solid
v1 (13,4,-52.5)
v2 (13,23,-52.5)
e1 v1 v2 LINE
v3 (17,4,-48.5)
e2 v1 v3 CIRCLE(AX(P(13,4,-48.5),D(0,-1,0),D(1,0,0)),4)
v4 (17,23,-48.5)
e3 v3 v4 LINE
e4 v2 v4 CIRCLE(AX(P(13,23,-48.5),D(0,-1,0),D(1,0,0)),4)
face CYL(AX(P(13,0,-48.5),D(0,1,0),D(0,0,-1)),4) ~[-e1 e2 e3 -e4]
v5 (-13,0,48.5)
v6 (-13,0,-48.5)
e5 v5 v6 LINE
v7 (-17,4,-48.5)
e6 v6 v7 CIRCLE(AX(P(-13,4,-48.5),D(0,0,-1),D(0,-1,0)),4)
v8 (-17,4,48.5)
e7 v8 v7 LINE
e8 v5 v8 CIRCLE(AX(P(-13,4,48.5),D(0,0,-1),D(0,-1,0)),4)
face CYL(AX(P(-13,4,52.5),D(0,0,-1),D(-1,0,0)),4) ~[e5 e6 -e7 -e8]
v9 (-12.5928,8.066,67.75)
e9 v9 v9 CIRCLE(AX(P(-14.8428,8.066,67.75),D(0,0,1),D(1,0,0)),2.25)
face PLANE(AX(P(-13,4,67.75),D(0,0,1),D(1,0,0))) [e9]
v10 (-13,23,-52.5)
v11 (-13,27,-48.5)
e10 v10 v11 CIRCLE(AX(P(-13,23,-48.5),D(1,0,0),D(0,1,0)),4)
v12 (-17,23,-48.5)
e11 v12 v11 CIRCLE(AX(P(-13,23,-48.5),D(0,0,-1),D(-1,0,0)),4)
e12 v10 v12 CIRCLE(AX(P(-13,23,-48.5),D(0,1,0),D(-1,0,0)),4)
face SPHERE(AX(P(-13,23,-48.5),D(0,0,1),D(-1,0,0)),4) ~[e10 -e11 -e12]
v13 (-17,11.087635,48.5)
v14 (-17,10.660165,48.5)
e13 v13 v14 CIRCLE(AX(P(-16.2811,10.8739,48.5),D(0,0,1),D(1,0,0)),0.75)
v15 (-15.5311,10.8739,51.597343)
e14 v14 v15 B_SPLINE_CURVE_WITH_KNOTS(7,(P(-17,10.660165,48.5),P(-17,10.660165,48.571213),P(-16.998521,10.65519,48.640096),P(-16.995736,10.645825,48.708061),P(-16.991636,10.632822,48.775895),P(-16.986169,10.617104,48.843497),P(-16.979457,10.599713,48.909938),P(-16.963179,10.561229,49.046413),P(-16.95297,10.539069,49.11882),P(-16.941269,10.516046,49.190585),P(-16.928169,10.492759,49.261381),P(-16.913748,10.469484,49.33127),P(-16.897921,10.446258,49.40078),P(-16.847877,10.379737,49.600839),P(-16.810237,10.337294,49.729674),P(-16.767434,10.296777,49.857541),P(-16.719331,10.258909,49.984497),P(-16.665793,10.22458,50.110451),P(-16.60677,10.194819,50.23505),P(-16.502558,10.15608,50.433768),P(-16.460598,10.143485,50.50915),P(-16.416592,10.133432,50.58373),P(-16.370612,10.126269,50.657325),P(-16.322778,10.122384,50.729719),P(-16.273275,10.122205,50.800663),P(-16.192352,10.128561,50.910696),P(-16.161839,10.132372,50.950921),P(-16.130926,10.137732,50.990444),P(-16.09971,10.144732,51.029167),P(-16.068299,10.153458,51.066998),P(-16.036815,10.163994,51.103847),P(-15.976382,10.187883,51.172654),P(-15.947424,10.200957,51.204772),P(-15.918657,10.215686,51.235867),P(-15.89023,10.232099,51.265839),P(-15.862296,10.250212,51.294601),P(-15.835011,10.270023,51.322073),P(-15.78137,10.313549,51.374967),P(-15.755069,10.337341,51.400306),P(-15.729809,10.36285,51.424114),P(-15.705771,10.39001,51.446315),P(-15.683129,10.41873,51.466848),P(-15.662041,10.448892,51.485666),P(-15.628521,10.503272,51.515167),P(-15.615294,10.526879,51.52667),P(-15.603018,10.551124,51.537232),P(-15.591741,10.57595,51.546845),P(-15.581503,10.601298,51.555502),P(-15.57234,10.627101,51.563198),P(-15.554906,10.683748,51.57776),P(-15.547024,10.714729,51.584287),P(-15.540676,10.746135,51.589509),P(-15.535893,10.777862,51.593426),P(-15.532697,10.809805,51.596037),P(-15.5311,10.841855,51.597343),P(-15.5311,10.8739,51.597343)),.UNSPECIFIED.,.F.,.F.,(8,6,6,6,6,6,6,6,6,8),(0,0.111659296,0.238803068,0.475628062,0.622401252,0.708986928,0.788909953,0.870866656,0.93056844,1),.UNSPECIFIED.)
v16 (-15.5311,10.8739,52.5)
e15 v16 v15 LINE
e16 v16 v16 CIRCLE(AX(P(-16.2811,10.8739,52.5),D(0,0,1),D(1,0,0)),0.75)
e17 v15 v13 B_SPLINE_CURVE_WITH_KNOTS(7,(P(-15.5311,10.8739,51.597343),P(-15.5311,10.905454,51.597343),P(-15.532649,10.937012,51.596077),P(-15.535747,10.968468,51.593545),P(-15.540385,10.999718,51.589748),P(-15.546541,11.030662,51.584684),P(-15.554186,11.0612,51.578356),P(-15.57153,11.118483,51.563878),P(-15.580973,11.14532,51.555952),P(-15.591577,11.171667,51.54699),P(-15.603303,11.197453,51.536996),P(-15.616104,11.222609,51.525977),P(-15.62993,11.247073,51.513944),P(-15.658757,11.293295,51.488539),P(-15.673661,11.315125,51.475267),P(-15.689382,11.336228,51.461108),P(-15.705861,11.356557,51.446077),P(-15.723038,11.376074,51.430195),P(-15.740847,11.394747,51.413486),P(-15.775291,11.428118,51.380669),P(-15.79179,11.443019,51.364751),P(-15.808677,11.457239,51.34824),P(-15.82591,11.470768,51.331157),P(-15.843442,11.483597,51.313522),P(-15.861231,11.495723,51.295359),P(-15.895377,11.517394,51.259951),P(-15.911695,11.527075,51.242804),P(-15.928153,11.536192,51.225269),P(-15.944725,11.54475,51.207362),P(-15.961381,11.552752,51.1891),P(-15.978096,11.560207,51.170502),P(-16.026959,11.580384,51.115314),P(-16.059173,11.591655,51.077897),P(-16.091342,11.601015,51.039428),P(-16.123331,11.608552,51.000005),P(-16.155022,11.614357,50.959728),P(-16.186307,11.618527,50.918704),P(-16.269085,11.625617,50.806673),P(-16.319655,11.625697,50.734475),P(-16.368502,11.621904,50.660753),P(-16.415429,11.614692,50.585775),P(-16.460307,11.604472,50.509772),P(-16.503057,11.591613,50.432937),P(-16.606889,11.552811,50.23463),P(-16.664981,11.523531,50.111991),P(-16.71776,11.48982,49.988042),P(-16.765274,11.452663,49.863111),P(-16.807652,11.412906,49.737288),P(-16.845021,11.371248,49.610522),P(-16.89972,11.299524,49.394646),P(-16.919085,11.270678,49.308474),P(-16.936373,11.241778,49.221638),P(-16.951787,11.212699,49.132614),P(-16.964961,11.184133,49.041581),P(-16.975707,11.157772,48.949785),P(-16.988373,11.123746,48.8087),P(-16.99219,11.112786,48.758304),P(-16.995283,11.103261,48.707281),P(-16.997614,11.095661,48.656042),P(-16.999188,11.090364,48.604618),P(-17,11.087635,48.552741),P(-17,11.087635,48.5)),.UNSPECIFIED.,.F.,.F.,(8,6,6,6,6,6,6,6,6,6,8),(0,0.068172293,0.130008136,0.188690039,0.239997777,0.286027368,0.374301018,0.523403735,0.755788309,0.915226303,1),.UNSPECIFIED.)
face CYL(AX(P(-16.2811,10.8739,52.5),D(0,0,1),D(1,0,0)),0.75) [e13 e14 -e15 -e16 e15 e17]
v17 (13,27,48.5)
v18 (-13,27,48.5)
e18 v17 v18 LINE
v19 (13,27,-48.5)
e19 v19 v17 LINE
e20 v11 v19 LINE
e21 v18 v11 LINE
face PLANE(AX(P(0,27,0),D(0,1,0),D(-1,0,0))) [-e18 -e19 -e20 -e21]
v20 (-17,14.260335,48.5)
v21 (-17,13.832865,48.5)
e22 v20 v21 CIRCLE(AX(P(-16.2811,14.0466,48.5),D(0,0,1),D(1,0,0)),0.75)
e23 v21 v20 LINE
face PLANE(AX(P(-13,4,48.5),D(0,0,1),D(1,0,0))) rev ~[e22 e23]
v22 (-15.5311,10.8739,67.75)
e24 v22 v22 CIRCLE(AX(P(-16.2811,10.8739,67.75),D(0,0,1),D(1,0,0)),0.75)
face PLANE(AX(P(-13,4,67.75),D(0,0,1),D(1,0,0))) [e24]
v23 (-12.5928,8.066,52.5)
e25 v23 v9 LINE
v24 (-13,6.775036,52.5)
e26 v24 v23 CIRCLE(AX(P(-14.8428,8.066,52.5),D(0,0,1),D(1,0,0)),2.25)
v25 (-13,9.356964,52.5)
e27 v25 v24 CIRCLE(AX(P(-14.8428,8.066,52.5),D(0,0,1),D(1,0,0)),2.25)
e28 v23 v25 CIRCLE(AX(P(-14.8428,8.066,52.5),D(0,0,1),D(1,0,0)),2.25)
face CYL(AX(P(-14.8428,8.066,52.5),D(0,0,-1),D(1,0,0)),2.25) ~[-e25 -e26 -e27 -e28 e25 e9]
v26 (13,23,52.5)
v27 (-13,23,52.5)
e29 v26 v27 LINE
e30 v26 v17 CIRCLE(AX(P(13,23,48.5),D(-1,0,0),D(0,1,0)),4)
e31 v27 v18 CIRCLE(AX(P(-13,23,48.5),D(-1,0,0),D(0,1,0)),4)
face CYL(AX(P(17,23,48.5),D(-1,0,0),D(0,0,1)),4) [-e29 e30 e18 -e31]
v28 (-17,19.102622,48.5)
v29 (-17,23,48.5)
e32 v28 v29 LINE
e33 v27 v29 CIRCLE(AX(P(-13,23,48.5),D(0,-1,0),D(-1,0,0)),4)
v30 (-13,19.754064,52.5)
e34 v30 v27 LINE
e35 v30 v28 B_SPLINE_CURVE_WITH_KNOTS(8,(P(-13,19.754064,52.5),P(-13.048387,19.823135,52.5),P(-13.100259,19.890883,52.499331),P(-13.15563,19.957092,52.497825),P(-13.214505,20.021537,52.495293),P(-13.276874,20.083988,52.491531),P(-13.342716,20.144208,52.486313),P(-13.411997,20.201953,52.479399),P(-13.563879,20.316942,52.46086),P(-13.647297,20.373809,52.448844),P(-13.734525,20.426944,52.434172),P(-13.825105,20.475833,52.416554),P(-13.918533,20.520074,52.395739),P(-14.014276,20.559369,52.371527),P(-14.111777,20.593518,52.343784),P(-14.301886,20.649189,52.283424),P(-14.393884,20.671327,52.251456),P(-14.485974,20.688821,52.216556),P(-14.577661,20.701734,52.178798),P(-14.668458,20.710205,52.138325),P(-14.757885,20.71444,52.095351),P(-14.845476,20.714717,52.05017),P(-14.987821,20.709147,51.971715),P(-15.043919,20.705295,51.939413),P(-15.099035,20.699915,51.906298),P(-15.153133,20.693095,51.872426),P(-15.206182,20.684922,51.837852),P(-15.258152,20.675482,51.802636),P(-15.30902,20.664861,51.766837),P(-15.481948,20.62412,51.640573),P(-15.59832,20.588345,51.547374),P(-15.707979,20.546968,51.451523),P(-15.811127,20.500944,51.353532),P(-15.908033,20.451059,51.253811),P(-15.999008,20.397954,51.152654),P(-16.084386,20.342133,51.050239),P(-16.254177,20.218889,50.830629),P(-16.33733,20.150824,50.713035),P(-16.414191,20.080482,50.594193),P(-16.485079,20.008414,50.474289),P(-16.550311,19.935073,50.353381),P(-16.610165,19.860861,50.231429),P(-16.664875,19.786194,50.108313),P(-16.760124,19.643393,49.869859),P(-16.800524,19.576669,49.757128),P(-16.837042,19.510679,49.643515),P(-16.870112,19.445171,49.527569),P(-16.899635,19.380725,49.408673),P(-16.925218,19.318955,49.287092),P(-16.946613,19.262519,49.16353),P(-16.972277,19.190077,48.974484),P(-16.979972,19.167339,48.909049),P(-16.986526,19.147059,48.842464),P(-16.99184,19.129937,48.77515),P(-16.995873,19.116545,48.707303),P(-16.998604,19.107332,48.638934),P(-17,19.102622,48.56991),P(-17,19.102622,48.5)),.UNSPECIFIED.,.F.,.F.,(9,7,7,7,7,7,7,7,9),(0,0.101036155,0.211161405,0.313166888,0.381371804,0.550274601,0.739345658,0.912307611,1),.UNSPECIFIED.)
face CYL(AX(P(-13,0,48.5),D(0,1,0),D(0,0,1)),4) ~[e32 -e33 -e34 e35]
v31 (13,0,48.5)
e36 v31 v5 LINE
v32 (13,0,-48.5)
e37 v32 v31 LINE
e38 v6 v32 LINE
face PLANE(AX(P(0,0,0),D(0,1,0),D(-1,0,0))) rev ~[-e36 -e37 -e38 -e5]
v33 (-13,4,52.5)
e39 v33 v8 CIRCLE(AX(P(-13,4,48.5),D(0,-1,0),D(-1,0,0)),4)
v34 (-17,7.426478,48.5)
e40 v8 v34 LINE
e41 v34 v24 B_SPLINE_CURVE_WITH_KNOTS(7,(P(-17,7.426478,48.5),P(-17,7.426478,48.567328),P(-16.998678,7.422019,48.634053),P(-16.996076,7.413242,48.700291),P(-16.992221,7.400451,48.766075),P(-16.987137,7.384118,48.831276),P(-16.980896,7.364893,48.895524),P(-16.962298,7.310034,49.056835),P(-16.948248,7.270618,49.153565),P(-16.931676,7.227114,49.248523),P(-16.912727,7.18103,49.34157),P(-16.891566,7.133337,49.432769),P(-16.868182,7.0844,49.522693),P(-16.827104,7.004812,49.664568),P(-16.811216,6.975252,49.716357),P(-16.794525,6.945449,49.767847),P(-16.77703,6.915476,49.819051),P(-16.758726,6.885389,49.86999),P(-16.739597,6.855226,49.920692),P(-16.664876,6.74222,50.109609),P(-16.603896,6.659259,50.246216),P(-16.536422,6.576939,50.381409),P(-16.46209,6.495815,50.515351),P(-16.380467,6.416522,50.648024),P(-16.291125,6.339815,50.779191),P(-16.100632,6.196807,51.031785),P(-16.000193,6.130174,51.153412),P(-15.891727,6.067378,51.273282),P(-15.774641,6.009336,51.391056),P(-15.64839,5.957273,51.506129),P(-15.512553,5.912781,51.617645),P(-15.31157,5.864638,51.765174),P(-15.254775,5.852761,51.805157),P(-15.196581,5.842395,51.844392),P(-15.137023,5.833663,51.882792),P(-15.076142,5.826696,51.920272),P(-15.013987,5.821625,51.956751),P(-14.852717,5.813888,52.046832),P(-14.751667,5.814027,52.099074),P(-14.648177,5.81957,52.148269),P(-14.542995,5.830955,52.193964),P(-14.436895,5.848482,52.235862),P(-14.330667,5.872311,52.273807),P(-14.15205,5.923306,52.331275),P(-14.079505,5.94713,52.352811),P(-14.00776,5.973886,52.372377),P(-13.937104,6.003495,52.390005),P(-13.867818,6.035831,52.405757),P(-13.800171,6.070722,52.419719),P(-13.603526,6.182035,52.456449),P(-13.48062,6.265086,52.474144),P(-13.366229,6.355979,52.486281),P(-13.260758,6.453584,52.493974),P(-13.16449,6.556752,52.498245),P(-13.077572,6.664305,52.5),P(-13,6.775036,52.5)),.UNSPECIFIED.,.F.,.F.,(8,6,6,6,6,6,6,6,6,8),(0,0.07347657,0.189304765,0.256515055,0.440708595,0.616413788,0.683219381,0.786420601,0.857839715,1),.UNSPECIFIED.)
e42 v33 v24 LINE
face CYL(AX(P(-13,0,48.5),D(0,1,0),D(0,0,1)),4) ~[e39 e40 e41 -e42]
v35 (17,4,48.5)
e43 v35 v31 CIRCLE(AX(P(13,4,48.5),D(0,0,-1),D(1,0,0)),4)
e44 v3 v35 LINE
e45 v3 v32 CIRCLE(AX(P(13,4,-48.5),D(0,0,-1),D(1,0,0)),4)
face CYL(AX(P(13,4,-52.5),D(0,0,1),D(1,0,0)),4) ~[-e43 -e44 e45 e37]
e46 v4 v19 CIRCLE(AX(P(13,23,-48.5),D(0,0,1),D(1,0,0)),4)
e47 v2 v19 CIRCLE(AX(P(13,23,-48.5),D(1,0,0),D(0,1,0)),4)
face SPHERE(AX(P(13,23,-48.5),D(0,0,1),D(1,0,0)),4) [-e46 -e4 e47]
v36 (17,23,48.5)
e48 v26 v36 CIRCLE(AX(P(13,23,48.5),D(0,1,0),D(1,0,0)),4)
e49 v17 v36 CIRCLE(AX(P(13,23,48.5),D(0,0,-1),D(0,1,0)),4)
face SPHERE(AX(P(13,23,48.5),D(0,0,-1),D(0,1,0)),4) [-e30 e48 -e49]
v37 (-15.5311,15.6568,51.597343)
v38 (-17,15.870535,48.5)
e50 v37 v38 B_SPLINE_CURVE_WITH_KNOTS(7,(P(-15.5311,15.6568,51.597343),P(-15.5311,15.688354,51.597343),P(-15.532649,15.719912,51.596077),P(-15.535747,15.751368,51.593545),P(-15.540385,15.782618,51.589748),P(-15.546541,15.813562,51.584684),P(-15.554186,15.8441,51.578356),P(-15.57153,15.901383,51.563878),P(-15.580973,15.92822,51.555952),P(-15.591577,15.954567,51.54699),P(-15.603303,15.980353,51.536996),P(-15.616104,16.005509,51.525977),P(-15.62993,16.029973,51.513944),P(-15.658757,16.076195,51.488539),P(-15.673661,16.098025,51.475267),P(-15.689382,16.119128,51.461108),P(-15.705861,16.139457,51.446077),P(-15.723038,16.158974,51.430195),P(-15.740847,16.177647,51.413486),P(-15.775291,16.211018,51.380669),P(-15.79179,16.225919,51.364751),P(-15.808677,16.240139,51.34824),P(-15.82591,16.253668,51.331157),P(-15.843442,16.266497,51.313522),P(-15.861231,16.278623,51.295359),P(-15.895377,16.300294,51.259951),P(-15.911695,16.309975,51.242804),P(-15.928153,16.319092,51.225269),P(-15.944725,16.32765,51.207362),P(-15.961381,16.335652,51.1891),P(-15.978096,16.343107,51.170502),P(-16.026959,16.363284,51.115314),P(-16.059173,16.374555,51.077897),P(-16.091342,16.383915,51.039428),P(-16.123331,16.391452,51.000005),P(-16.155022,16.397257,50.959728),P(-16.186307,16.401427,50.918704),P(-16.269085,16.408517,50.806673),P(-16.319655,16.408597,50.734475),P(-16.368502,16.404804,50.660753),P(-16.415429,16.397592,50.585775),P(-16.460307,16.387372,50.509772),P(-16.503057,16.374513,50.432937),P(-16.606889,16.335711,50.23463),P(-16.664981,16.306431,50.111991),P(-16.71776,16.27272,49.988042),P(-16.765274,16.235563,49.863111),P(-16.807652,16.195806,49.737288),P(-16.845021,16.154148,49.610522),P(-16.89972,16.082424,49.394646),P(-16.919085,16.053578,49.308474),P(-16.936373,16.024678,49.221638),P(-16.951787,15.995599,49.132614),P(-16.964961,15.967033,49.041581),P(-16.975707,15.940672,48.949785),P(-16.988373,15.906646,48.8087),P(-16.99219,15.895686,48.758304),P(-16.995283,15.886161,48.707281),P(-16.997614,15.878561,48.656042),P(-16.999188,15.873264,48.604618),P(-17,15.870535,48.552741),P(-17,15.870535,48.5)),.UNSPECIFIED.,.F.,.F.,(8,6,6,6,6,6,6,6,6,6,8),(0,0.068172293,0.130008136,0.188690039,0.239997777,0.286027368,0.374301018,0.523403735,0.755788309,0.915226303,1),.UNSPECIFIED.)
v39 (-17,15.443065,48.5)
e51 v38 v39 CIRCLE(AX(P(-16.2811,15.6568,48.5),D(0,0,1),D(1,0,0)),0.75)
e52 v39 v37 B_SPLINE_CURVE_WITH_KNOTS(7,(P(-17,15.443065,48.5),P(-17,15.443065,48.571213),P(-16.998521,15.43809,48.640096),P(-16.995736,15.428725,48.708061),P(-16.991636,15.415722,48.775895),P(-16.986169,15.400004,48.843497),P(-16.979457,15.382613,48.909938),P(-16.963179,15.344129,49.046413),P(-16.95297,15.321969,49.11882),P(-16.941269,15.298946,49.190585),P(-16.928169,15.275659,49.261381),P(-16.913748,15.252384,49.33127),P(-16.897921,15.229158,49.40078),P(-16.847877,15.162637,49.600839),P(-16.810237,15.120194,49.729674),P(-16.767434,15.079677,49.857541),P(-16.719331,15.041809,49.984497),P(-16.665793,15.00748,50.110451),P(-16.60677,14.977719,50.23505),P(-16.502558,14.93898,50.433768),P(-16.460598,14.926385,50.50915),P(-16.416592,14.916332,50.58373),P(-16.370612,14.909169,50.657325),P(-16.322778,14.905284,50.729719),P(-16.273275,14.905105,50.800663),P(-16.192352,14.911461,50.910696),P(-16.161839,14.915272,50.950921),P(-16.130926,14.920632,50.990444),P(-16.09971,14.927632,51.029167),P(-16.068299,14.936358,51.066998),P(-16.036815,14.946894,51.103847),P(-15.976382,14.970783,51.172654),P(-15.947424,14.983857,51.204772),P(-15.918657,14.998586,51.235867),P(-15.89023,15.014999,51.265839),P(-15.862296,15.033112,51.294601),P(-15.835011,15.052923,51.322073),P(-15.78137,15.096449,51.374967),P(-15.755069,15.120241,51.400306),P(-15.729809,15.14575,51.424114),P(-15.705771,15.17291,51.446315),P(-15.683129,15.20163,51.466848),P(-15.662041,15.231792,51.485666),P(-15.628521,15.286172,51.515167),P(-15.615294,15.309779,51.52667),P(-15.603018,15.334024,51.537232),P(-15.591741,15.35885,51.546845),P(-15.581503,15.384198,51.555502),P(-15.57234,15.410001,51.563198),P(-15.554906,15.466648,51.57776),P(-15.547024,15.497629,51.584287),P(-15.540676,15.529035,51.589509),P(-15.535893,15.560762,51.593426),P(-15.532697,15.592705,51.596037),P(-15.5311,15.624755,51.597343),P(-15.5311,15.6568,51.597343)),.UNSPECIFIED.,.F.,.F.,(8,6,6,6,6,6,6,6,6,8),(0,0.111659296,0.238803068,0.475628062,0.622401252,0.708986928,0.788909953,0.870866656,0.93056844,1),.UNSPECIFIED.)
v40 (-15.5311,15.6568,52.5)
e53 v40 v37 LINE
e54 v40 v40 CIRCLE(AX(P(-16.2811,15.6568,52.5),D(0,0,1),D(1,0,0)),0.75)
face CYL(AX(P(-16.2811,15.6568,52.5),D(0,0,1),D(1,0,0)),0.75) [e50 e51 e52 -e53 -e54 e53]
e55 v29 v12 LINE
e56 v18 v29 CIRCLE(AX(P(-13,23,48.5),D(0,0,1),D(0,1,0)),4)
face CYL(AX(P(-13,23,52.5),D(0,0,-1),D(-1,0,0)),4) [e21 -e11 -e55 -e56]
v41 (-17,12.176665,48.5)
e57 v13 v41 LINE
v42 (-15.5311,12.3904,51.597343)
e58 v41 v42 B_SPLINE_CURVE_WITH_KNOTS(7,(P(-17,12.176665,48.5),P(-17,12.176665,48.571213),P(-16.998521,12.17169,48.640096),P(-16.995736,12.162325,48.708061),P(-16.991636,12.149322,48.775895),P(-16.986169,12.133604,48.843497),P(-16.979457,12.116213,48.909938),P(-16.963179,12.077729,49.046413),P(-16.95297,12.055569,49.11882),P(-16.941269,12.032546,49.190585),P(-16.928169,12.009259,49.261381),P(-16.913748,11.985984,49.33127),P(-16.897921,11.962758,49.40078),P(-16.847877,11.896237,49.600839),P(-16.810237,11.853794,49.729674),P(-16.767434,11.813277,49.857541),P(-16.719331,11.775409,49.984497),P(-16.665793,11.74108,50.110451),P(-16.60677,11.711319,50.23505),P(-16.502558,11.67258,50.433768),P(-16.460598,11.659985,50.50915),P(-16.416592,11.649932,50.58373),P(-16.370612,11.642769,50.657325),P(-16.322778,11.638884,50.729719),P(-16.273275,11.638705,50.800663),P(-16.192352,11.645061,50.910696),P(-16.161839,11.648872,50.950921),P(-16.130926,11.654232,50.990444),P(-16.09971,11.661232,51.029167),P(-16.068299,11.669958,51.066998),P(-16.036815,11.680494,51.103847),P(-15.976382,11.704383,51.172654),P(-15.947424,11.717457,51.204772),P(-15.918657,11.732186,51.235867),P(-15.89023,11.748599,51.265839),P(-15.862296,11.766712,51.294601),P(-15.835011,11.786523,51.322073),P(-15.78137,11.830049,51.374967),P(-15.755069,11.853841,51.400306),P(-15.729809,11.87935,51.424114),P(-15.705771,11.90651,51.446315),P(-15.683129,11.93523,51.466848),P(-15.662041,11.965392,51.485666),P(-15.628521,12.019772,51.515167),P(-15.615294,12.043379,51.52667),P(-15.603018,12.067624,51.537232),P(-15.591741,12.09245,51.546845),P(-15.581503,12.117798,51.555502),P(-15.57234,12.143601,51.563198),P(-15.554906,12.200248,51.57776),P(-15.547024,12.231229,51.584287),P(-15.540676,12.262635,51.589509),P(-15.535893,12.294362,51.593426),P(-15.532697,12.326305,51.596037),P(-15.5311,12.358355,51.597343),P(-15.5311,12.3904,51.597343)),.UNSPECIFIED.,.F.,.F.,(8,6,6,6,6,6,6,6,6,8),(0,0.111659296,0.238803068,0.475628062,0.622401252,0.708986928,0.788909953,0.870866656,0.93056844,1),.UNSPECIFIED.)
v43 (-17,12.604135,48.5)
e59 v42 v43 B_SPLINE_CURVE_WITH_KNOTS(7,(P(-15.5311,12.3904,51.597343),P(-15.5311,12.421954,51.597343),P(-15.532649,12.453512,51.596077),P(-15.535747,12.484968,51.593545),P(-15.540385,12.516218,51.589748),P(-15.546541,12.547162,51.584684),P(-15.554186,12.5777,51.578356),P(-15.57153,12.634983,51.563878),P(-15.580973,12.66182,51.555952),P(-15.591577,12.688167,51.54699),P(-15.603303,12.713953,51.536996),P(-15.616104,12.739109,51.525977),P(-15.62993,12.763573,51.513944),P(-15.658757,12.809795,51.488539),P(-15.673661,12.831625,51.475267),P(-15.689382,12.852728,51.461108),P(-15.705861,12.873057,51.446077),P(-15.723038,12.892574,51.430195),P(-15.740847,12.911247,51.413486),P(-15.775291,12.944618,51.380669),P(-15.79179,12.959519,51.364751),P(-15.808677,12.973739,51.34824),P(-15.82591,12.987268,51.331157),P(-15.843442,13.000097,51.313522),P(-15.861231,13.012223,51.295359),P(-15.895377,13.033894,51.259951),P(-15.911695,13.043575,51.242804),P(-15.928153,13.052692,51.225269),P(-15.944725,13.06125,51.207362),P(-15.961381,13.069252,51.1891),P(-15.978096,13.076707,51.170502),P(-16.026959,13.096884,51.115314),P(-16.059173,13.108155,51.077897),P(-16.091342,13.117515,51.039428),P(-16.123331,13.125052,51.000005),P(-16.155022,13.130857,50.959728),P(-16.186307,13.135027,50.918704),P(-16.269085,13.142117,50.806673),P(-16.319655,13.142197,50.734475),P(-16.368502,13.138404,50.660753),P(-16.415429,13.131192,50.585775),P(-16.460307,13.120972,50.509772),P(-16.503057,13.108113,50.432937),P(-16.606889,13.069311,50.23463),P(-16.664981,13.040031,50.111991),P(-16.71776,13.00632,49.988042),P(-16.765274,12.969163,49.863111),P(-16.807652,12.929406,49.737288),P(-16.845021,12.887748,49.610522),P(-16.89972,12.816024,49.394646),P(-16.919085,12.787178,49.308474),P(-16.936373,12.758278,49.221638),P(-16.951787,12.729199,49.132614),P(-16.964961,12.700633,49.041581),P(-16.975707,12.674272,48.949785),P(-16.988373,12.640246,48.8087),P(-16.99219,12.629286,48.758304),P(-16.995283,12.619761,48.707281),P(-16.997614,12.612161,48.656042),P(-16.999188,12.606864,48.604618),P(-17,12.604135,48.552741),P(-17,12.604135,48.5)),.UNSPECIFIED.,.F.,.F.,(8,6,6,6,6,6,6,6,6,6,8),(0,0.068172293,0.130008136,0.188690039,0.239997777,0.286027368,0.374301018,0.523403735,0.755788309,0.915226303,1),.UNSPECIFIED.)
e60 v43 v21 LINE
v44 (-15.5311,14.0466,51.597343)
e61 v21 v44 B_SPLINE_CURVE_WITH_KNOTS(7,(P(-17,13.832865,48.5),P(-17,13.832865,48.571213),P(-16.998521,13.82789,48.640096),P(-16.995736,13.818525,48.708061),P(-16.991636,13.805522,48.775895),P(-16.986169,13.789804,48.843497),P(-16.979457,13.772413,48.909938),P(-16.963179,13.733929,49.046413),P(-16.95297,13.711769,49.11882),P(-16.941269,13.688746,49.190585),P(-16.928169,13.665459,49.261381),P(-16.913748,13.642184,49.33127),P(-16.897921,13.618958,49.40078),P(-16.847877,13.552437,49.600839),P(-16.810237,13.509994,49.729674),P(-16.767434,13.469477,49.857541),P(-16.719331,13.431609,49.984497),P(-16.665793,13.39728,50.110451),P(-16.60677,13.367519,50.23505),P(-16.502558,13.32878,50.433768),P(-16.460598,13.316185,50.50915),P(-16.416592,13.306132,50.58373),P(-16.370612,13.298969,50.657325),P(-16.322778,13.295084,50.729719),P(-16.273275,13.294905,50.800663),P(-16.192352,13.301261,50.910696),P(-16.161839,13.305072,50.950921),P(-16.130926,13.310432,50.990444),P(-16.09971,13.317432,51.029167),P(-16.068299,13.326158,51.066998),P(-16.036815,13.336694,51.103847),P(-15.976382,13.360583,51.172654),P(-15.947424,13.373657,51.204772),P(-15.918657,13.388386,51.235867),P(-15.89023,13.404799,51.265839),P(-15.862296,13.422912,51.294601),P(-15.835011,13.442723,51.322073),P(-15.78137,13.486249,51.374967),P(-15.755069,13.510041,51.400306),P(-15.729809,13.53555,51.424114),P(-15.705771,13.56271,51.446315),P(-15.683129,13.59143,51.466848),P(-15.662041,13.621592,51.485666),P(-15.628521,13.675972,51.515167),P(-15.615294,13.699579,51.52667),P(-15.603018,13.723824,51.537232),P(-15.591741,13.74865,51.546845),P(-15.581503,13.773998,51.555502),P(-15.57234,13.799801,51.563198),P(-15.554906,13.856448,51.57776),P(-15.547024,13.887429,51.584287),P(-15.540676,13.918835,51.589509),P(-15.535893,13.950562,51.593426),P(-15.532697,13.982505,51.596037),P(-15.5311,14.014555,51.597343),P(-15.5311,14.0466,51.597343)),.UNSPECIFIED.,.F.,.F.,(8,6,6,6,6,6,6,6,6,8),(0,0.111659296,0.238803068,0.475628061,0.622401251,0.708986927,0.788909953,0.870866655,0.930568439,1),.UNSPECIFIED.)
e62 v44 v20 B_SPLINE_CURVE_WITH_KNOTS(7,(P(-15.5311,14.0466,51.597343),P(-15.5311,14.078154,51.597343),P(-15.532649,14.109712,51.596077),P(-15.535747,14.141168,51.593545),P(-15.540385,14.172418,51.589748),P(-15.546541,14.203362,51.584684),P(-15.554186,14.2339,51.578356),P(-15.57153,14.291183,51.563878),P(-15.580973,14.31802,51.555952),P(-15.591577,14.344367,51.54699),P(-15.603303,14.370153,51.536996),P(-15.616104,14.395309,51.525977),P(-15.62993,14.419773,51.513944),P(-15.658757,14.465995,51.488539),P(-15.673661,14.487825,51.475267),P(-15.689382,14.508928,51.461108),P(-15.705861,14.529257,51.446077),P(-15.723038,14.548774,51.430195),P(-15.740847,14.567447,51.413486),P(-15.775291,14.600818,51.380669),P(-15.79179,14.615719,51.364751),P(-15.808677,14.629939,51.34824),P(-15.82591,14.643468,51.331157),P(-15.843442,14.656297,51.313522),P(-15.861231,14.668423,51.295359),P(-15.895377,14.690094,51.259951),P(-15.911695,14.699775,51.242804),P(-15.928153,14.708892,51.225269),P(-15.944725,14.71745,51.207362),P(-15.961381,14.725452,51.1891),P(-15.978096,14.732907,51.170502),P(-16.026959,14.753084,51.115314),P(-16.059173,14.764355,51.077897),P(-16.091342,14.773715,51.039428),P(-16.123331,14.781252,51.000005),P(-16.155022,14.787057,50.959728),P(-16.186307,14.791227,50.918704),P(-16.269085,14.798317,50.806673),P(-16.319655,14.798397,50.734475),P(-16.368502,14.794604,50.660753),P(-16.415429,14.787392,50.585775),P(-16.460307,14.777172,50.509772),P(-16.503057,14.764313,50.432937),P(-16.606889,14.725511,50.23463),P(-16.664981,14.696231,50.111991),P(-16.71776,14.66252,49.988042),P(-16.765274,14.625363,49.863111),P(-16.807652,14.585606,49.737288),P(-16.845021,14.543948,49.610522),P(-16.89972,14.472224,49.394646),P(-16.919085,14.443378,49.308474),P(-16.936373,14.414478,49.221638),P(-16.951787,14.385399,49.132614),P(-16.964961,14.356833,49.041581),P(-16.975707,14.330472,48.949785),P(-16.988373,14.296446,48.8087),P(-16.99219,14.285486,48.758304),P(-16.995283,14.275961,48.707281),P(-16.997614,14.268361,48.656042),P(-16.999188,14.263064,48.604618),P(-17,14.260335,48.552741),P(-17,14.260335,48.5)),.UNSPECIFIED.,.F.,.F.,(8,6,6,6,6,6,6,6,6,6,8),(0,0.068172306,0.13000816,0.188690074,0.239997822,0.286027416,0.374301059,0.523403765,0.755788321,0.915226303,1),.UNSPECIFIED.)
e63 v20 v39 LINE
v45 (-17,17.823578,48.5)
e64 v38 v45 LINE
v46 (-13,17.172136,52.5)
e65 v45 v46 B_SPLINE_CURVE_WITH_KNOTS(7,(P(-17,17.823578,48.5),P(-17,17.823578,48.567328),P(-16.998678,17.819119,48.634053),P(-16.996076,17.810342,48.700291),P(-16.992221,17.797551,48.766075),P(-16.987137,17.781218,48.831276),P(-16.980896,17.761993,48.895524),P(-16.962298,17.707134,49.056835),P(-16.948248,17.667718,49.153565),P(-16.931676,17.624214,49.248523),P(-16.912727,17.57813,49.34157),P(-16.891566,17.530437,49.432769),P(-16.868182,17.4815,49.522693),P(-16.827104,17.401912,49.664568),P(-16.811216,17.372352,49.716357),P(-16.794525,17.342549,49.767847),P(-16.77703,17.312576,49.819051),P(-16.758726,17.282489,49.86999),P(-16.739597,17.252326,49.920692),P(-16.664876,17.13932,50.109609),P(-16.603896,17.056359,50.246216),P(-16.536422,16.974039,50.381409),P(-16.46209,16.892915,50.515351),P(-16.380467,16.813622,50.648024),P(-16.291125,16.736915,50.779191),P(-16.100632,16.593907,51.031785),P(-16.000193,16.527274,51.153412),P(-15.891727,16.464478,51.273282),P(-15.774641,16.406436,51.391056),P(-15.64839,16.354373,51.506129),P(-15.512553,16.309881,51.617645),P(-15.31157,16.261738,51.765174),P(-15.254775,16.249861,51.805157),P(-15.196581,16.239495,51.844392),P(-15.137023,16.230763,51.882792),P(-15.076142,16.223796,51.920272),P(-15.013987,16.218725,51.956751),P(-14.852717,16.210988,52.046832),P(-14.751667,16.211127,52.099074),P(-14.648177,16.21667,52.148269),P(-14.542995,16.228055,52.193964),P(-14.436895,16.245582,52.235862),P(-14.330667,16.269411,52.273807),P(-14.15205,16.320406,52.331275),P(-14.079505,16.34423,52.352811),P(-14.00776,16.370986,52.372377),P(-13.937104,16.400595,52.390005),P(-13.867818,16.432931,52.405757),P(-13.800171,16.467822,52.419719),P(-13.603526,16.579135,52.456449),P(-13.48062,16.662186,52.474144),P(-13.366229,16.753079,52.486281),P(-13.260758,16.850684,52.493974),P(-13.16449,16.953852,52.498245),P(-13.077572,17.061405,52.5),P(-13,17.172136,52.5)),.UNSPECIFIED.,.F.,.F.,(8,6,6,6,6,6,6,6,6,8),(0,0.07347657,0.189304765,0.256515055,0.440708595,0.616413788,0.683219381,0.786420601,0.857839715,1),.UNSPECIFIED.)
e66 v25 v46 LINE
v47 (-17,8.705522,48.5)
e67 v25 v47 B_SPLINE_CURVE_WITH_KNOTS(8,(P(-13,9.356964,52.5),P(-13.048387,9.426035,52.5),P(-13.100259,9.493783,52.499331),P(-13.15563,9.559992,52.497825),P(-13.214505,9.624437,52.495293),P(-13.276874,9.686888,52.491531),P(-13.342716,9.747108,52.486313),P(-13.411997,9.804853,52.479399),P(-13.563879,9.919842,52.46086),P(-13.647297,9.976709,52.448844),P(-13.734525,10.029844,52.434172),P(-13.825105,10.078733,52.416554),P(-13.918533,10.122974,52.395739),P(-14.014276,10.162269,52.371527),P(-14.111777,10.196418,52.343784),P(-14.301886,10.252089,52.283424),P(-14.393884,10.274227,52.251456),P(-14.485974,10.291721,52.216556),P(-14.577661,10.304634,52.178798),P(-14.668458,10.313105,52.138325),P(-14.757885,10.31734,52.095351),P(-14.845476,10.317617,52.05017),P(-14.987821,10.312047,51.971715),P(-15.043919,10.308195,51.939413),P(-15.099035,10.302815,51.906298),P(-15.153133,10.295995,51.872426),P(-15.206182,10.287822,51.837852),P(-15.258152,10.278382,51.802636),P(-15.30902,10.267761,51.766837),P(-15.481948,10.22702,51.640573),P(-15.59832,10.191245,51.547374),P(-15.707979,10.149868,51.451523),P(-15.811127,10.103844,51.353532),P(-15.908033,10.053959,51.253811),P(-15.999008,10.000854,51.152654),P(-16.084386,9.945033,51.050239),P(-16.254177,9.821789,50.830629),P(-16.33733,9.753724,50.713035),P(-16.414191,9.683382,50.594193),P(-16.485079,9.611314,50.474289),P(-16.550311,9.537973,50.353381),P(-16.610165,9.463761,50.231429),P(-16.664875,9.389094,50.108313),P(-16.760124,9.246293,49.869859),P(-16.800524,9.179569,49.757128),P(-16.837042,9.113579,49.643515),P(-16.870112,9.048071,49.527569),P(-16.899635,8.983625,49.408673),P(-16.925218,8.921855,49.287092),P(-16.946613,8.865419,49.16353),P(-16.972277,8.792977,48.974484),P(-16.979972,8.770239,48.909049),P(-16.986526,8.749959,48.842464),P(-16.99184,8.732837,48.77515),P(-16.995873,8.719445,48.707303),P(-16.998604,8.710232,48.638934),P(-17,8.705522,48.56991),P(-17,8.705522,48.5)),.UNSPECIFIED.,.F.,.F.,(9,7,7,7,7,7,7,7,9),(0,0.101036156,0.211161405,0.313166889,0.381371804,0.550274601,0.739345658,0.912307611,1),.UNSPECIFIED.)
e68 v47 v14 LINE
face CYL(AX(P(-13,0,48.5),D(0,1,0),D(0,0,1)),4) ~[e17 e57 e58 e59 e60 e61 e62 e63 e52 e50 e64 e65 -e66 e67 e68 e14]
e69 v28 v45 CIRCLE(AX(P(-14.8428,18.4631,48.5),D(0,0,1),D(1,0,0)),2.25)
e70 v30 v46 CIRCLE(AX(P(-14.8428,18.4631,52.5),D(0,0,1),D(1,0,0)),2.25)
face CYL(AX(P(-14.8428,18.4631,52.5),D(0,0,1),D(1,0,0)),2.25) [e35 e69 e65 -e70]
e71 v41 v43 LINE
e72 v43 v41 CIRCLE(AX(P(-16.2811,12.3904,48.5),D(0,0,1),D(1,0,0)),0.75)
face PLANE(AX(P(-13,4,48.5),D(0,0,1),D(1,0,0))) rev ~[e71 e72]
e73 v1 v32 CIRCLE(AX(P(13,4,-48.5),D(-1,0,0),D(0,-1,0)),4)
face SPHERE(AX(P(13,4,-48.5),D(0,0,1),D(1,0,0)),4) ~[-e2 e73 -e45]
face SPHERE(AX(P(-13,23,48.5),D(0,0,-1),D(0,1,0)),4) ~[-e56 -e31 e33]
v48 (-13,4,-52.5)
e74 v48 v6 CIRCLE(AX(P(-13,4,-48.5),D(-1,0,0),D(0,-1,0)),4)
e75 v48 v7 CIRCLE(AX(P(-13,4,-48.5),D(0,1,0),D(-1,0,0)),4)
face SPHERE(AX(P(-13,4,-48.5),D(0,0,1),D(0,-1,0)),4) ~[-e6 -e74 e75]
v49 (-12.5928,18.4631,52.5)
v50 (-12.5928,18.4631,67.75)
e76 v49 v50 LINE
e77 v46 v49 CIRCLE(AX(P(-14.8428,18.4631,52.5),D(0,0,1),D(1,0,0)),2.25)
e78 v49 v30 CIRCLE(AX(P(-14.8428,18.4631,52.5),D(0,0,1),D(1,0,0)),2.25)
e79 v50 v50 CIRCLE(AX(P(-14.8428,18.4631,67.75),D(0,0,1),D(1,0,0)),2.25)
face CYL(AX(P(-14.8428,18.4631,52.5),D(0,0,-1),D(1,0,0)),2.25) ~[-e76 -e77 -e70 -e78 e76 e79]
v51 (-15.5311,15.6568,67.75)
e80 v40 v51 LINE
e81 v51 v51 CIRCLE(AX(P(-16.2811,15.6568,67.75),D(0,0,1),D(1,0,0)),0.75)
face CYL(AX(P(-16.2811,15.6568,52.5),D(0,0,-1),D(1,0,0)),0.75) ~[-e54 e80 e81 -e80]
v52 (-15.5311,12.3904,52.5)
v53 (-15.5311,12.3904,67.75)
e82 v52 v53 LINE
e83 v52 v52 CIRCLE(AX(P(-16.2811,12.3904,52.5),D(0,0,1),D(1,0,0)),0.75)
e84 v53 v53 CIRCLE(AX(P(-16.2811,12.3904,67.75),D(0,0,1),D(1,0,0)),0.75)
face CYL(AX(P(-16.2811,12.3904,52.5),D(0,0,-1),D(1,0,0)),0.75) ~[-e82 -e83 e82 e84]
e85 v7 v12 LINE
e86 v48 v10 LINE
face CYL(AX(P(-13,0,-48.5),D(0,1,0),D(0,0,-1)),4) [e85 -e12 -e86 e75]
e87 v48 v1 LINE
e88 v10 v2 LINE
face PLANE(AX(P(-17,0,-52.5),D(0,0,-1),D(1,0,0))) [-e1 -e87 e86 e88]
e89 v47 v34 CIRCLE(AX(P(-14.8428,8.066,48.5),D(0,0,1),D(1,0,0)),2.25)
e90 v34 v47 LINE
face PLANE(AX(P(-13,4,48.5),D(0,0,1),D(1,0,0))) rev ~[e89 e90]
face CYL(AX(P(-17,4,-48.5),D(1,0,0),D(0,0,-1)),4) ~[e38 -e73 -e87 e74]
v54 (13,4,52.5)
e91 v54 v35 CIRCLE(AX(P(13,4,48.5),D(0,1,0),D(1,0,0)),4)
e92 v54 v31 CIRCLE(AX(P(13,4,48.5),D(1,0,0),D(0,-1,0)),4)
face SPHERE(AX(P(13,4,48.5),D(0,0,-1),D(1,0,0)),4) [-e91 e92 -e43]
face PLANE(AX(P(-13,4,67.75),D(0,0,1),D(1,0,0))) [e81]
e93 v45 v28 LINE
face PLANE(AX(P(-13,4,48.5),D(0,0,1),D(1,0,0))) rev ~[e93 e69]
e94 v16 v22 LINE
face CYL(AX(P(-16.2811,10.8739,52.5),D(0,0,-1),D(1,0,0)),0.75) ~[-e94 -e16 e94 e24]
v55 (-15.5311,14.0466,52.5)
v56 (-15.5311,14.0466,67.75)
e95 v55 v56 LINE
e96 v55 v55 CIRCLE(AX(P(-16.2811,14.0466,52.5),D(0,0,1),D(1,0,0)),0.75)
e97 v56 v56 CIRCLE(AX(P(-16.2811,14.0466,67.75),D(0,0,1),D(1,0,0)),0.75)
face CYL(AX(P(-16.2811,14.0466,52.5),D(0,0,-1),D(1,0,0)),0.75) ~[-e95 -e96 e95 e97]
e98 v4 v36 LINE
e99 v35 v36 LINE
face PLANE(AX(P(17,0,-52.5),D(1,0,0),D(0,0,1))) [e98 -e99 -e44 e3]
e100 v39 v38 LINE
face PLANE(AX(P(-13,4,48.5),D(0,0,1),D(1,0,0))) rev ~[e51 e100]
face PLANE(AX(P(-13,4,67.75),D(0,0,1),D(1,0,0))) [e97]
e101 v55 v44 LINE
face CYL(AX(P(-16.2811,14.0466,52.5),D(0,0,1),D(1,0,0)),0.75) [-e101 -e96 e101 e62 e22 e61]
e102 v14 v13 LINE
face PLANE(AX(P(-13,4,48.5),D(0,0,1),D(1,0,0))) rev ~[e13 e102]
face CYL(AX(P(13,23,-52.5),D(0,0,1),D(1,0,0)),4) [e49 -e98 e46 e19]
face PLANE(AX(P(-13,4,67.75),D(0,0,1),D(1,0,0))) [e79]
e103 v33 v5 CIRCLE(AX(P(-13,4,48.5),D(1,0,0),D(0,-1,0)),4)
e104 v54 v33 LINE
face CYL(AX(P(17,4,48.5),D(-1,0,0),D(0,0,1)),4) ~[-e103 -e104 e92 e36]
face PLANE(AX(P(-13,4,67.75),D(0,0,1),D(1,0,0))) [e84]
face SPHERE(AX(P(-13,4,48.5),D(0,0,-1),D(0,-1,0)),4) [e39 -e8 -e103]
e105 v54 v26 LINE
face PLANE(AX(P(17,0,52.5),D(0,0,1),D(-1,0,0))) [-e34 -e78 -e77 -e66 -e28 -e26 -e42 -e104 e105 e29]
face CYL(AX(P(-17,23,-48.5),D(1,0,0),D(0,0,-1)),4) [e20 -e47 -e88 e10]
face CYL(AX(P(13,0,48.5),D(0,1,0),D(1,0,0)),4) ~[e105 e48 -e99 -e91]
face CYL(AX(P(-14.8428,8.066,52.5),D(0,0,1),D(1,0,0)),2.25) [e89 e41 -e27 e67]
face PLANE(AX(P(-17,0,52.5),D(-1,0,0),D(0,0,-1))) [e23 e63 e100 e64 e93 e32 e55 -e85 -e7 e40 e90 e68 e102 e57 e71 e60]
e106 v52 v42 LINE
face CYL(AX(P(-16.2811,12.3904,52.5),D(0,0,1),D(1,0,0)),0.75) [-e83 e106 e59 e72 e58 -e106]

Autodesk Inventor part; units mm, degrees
ref_plane "YZ Plane" through (0, 0, 0) normal (1, 0, 0) x (0, 1, 0)
ref_plane "XZ Plane" through (0, 0, 0) normal (0, 1, 0) x (-1, 0, 0)
ref_plane "XY Plane" through (0, 0, 0) normal (0, 0, 1) x (1, 0, 0)
sketch "Эскиз1" plane through (0, 0, 0) normal (0, 1, 0) x (-1, 0, 0)
  line L0 (17, -52.5) -> (-17, -52.5)
  line L1 (-17, -52.5) -> (-17, 52.5)
  line L2 (-17, 52.5) -> (17, 52.5)
  line L3 (17, 52.5) -> (17, -52.5)
  line L4 (17, -52.5) -> (-17, 52.5) construction
  line L5 (-17, -52.5) -> (17, 52.5) construction
  point P0 (0, 0)
  dimension "d0" = 105
  dimension "d1" = 34
extrude "Выдавливание1" add sketch "Эскиз1" along normal blind 27
fillet "Сопряжение1" radius 4 12 edges at (17, 0, 0) (-17, 0, 0) (-17, 27, 0) (17, 27, 0) (0, 27, 52.5) (17, 13.5, 52.5) (0, 0, 52.5) (-17, 13.5, 52.5) (17, 13.5, -52.5) (0, 0, -52.5) (-17, 13.5, -52.5) (0, 27, -52.5)
sketch "Эскиз2" plane through (-13, 4, 52.5) normal (0, 0, 1) x (1, 0, 0)
  line L0 (26, 23) -> (0, 23) projected
  circle A0 centre (-1.8428, 14.4631) radius 2.25
  circle A1 centre (-1.8428, 4.066) radius 2.25
  circle A2 centre (-3.2811, 6.8739) radius 0.75
  circle A3 centre (-3.2811, 8.3904) radius 0.75
  circle A4 centre (-3.2811, 10.0466) radius 0.75
  circle A5 centre (-3.2811, 11.6568) radius 0.75
  point P0 (13, -4)
  dimension "d5" = 4.5
  dimension "d6" = 4.5
  dimension "d7" = 1.5
  dimension "d8" = 1.5
  dimension "d9" = 1.5
  dimension "d10" = 1.5
extrude "Выдавливание2" add sketch "Эскиз2" along normal blind 15.25 and the other way blind 4
properties part number "Аккамулятор" material "Пластик ПАЭК"
